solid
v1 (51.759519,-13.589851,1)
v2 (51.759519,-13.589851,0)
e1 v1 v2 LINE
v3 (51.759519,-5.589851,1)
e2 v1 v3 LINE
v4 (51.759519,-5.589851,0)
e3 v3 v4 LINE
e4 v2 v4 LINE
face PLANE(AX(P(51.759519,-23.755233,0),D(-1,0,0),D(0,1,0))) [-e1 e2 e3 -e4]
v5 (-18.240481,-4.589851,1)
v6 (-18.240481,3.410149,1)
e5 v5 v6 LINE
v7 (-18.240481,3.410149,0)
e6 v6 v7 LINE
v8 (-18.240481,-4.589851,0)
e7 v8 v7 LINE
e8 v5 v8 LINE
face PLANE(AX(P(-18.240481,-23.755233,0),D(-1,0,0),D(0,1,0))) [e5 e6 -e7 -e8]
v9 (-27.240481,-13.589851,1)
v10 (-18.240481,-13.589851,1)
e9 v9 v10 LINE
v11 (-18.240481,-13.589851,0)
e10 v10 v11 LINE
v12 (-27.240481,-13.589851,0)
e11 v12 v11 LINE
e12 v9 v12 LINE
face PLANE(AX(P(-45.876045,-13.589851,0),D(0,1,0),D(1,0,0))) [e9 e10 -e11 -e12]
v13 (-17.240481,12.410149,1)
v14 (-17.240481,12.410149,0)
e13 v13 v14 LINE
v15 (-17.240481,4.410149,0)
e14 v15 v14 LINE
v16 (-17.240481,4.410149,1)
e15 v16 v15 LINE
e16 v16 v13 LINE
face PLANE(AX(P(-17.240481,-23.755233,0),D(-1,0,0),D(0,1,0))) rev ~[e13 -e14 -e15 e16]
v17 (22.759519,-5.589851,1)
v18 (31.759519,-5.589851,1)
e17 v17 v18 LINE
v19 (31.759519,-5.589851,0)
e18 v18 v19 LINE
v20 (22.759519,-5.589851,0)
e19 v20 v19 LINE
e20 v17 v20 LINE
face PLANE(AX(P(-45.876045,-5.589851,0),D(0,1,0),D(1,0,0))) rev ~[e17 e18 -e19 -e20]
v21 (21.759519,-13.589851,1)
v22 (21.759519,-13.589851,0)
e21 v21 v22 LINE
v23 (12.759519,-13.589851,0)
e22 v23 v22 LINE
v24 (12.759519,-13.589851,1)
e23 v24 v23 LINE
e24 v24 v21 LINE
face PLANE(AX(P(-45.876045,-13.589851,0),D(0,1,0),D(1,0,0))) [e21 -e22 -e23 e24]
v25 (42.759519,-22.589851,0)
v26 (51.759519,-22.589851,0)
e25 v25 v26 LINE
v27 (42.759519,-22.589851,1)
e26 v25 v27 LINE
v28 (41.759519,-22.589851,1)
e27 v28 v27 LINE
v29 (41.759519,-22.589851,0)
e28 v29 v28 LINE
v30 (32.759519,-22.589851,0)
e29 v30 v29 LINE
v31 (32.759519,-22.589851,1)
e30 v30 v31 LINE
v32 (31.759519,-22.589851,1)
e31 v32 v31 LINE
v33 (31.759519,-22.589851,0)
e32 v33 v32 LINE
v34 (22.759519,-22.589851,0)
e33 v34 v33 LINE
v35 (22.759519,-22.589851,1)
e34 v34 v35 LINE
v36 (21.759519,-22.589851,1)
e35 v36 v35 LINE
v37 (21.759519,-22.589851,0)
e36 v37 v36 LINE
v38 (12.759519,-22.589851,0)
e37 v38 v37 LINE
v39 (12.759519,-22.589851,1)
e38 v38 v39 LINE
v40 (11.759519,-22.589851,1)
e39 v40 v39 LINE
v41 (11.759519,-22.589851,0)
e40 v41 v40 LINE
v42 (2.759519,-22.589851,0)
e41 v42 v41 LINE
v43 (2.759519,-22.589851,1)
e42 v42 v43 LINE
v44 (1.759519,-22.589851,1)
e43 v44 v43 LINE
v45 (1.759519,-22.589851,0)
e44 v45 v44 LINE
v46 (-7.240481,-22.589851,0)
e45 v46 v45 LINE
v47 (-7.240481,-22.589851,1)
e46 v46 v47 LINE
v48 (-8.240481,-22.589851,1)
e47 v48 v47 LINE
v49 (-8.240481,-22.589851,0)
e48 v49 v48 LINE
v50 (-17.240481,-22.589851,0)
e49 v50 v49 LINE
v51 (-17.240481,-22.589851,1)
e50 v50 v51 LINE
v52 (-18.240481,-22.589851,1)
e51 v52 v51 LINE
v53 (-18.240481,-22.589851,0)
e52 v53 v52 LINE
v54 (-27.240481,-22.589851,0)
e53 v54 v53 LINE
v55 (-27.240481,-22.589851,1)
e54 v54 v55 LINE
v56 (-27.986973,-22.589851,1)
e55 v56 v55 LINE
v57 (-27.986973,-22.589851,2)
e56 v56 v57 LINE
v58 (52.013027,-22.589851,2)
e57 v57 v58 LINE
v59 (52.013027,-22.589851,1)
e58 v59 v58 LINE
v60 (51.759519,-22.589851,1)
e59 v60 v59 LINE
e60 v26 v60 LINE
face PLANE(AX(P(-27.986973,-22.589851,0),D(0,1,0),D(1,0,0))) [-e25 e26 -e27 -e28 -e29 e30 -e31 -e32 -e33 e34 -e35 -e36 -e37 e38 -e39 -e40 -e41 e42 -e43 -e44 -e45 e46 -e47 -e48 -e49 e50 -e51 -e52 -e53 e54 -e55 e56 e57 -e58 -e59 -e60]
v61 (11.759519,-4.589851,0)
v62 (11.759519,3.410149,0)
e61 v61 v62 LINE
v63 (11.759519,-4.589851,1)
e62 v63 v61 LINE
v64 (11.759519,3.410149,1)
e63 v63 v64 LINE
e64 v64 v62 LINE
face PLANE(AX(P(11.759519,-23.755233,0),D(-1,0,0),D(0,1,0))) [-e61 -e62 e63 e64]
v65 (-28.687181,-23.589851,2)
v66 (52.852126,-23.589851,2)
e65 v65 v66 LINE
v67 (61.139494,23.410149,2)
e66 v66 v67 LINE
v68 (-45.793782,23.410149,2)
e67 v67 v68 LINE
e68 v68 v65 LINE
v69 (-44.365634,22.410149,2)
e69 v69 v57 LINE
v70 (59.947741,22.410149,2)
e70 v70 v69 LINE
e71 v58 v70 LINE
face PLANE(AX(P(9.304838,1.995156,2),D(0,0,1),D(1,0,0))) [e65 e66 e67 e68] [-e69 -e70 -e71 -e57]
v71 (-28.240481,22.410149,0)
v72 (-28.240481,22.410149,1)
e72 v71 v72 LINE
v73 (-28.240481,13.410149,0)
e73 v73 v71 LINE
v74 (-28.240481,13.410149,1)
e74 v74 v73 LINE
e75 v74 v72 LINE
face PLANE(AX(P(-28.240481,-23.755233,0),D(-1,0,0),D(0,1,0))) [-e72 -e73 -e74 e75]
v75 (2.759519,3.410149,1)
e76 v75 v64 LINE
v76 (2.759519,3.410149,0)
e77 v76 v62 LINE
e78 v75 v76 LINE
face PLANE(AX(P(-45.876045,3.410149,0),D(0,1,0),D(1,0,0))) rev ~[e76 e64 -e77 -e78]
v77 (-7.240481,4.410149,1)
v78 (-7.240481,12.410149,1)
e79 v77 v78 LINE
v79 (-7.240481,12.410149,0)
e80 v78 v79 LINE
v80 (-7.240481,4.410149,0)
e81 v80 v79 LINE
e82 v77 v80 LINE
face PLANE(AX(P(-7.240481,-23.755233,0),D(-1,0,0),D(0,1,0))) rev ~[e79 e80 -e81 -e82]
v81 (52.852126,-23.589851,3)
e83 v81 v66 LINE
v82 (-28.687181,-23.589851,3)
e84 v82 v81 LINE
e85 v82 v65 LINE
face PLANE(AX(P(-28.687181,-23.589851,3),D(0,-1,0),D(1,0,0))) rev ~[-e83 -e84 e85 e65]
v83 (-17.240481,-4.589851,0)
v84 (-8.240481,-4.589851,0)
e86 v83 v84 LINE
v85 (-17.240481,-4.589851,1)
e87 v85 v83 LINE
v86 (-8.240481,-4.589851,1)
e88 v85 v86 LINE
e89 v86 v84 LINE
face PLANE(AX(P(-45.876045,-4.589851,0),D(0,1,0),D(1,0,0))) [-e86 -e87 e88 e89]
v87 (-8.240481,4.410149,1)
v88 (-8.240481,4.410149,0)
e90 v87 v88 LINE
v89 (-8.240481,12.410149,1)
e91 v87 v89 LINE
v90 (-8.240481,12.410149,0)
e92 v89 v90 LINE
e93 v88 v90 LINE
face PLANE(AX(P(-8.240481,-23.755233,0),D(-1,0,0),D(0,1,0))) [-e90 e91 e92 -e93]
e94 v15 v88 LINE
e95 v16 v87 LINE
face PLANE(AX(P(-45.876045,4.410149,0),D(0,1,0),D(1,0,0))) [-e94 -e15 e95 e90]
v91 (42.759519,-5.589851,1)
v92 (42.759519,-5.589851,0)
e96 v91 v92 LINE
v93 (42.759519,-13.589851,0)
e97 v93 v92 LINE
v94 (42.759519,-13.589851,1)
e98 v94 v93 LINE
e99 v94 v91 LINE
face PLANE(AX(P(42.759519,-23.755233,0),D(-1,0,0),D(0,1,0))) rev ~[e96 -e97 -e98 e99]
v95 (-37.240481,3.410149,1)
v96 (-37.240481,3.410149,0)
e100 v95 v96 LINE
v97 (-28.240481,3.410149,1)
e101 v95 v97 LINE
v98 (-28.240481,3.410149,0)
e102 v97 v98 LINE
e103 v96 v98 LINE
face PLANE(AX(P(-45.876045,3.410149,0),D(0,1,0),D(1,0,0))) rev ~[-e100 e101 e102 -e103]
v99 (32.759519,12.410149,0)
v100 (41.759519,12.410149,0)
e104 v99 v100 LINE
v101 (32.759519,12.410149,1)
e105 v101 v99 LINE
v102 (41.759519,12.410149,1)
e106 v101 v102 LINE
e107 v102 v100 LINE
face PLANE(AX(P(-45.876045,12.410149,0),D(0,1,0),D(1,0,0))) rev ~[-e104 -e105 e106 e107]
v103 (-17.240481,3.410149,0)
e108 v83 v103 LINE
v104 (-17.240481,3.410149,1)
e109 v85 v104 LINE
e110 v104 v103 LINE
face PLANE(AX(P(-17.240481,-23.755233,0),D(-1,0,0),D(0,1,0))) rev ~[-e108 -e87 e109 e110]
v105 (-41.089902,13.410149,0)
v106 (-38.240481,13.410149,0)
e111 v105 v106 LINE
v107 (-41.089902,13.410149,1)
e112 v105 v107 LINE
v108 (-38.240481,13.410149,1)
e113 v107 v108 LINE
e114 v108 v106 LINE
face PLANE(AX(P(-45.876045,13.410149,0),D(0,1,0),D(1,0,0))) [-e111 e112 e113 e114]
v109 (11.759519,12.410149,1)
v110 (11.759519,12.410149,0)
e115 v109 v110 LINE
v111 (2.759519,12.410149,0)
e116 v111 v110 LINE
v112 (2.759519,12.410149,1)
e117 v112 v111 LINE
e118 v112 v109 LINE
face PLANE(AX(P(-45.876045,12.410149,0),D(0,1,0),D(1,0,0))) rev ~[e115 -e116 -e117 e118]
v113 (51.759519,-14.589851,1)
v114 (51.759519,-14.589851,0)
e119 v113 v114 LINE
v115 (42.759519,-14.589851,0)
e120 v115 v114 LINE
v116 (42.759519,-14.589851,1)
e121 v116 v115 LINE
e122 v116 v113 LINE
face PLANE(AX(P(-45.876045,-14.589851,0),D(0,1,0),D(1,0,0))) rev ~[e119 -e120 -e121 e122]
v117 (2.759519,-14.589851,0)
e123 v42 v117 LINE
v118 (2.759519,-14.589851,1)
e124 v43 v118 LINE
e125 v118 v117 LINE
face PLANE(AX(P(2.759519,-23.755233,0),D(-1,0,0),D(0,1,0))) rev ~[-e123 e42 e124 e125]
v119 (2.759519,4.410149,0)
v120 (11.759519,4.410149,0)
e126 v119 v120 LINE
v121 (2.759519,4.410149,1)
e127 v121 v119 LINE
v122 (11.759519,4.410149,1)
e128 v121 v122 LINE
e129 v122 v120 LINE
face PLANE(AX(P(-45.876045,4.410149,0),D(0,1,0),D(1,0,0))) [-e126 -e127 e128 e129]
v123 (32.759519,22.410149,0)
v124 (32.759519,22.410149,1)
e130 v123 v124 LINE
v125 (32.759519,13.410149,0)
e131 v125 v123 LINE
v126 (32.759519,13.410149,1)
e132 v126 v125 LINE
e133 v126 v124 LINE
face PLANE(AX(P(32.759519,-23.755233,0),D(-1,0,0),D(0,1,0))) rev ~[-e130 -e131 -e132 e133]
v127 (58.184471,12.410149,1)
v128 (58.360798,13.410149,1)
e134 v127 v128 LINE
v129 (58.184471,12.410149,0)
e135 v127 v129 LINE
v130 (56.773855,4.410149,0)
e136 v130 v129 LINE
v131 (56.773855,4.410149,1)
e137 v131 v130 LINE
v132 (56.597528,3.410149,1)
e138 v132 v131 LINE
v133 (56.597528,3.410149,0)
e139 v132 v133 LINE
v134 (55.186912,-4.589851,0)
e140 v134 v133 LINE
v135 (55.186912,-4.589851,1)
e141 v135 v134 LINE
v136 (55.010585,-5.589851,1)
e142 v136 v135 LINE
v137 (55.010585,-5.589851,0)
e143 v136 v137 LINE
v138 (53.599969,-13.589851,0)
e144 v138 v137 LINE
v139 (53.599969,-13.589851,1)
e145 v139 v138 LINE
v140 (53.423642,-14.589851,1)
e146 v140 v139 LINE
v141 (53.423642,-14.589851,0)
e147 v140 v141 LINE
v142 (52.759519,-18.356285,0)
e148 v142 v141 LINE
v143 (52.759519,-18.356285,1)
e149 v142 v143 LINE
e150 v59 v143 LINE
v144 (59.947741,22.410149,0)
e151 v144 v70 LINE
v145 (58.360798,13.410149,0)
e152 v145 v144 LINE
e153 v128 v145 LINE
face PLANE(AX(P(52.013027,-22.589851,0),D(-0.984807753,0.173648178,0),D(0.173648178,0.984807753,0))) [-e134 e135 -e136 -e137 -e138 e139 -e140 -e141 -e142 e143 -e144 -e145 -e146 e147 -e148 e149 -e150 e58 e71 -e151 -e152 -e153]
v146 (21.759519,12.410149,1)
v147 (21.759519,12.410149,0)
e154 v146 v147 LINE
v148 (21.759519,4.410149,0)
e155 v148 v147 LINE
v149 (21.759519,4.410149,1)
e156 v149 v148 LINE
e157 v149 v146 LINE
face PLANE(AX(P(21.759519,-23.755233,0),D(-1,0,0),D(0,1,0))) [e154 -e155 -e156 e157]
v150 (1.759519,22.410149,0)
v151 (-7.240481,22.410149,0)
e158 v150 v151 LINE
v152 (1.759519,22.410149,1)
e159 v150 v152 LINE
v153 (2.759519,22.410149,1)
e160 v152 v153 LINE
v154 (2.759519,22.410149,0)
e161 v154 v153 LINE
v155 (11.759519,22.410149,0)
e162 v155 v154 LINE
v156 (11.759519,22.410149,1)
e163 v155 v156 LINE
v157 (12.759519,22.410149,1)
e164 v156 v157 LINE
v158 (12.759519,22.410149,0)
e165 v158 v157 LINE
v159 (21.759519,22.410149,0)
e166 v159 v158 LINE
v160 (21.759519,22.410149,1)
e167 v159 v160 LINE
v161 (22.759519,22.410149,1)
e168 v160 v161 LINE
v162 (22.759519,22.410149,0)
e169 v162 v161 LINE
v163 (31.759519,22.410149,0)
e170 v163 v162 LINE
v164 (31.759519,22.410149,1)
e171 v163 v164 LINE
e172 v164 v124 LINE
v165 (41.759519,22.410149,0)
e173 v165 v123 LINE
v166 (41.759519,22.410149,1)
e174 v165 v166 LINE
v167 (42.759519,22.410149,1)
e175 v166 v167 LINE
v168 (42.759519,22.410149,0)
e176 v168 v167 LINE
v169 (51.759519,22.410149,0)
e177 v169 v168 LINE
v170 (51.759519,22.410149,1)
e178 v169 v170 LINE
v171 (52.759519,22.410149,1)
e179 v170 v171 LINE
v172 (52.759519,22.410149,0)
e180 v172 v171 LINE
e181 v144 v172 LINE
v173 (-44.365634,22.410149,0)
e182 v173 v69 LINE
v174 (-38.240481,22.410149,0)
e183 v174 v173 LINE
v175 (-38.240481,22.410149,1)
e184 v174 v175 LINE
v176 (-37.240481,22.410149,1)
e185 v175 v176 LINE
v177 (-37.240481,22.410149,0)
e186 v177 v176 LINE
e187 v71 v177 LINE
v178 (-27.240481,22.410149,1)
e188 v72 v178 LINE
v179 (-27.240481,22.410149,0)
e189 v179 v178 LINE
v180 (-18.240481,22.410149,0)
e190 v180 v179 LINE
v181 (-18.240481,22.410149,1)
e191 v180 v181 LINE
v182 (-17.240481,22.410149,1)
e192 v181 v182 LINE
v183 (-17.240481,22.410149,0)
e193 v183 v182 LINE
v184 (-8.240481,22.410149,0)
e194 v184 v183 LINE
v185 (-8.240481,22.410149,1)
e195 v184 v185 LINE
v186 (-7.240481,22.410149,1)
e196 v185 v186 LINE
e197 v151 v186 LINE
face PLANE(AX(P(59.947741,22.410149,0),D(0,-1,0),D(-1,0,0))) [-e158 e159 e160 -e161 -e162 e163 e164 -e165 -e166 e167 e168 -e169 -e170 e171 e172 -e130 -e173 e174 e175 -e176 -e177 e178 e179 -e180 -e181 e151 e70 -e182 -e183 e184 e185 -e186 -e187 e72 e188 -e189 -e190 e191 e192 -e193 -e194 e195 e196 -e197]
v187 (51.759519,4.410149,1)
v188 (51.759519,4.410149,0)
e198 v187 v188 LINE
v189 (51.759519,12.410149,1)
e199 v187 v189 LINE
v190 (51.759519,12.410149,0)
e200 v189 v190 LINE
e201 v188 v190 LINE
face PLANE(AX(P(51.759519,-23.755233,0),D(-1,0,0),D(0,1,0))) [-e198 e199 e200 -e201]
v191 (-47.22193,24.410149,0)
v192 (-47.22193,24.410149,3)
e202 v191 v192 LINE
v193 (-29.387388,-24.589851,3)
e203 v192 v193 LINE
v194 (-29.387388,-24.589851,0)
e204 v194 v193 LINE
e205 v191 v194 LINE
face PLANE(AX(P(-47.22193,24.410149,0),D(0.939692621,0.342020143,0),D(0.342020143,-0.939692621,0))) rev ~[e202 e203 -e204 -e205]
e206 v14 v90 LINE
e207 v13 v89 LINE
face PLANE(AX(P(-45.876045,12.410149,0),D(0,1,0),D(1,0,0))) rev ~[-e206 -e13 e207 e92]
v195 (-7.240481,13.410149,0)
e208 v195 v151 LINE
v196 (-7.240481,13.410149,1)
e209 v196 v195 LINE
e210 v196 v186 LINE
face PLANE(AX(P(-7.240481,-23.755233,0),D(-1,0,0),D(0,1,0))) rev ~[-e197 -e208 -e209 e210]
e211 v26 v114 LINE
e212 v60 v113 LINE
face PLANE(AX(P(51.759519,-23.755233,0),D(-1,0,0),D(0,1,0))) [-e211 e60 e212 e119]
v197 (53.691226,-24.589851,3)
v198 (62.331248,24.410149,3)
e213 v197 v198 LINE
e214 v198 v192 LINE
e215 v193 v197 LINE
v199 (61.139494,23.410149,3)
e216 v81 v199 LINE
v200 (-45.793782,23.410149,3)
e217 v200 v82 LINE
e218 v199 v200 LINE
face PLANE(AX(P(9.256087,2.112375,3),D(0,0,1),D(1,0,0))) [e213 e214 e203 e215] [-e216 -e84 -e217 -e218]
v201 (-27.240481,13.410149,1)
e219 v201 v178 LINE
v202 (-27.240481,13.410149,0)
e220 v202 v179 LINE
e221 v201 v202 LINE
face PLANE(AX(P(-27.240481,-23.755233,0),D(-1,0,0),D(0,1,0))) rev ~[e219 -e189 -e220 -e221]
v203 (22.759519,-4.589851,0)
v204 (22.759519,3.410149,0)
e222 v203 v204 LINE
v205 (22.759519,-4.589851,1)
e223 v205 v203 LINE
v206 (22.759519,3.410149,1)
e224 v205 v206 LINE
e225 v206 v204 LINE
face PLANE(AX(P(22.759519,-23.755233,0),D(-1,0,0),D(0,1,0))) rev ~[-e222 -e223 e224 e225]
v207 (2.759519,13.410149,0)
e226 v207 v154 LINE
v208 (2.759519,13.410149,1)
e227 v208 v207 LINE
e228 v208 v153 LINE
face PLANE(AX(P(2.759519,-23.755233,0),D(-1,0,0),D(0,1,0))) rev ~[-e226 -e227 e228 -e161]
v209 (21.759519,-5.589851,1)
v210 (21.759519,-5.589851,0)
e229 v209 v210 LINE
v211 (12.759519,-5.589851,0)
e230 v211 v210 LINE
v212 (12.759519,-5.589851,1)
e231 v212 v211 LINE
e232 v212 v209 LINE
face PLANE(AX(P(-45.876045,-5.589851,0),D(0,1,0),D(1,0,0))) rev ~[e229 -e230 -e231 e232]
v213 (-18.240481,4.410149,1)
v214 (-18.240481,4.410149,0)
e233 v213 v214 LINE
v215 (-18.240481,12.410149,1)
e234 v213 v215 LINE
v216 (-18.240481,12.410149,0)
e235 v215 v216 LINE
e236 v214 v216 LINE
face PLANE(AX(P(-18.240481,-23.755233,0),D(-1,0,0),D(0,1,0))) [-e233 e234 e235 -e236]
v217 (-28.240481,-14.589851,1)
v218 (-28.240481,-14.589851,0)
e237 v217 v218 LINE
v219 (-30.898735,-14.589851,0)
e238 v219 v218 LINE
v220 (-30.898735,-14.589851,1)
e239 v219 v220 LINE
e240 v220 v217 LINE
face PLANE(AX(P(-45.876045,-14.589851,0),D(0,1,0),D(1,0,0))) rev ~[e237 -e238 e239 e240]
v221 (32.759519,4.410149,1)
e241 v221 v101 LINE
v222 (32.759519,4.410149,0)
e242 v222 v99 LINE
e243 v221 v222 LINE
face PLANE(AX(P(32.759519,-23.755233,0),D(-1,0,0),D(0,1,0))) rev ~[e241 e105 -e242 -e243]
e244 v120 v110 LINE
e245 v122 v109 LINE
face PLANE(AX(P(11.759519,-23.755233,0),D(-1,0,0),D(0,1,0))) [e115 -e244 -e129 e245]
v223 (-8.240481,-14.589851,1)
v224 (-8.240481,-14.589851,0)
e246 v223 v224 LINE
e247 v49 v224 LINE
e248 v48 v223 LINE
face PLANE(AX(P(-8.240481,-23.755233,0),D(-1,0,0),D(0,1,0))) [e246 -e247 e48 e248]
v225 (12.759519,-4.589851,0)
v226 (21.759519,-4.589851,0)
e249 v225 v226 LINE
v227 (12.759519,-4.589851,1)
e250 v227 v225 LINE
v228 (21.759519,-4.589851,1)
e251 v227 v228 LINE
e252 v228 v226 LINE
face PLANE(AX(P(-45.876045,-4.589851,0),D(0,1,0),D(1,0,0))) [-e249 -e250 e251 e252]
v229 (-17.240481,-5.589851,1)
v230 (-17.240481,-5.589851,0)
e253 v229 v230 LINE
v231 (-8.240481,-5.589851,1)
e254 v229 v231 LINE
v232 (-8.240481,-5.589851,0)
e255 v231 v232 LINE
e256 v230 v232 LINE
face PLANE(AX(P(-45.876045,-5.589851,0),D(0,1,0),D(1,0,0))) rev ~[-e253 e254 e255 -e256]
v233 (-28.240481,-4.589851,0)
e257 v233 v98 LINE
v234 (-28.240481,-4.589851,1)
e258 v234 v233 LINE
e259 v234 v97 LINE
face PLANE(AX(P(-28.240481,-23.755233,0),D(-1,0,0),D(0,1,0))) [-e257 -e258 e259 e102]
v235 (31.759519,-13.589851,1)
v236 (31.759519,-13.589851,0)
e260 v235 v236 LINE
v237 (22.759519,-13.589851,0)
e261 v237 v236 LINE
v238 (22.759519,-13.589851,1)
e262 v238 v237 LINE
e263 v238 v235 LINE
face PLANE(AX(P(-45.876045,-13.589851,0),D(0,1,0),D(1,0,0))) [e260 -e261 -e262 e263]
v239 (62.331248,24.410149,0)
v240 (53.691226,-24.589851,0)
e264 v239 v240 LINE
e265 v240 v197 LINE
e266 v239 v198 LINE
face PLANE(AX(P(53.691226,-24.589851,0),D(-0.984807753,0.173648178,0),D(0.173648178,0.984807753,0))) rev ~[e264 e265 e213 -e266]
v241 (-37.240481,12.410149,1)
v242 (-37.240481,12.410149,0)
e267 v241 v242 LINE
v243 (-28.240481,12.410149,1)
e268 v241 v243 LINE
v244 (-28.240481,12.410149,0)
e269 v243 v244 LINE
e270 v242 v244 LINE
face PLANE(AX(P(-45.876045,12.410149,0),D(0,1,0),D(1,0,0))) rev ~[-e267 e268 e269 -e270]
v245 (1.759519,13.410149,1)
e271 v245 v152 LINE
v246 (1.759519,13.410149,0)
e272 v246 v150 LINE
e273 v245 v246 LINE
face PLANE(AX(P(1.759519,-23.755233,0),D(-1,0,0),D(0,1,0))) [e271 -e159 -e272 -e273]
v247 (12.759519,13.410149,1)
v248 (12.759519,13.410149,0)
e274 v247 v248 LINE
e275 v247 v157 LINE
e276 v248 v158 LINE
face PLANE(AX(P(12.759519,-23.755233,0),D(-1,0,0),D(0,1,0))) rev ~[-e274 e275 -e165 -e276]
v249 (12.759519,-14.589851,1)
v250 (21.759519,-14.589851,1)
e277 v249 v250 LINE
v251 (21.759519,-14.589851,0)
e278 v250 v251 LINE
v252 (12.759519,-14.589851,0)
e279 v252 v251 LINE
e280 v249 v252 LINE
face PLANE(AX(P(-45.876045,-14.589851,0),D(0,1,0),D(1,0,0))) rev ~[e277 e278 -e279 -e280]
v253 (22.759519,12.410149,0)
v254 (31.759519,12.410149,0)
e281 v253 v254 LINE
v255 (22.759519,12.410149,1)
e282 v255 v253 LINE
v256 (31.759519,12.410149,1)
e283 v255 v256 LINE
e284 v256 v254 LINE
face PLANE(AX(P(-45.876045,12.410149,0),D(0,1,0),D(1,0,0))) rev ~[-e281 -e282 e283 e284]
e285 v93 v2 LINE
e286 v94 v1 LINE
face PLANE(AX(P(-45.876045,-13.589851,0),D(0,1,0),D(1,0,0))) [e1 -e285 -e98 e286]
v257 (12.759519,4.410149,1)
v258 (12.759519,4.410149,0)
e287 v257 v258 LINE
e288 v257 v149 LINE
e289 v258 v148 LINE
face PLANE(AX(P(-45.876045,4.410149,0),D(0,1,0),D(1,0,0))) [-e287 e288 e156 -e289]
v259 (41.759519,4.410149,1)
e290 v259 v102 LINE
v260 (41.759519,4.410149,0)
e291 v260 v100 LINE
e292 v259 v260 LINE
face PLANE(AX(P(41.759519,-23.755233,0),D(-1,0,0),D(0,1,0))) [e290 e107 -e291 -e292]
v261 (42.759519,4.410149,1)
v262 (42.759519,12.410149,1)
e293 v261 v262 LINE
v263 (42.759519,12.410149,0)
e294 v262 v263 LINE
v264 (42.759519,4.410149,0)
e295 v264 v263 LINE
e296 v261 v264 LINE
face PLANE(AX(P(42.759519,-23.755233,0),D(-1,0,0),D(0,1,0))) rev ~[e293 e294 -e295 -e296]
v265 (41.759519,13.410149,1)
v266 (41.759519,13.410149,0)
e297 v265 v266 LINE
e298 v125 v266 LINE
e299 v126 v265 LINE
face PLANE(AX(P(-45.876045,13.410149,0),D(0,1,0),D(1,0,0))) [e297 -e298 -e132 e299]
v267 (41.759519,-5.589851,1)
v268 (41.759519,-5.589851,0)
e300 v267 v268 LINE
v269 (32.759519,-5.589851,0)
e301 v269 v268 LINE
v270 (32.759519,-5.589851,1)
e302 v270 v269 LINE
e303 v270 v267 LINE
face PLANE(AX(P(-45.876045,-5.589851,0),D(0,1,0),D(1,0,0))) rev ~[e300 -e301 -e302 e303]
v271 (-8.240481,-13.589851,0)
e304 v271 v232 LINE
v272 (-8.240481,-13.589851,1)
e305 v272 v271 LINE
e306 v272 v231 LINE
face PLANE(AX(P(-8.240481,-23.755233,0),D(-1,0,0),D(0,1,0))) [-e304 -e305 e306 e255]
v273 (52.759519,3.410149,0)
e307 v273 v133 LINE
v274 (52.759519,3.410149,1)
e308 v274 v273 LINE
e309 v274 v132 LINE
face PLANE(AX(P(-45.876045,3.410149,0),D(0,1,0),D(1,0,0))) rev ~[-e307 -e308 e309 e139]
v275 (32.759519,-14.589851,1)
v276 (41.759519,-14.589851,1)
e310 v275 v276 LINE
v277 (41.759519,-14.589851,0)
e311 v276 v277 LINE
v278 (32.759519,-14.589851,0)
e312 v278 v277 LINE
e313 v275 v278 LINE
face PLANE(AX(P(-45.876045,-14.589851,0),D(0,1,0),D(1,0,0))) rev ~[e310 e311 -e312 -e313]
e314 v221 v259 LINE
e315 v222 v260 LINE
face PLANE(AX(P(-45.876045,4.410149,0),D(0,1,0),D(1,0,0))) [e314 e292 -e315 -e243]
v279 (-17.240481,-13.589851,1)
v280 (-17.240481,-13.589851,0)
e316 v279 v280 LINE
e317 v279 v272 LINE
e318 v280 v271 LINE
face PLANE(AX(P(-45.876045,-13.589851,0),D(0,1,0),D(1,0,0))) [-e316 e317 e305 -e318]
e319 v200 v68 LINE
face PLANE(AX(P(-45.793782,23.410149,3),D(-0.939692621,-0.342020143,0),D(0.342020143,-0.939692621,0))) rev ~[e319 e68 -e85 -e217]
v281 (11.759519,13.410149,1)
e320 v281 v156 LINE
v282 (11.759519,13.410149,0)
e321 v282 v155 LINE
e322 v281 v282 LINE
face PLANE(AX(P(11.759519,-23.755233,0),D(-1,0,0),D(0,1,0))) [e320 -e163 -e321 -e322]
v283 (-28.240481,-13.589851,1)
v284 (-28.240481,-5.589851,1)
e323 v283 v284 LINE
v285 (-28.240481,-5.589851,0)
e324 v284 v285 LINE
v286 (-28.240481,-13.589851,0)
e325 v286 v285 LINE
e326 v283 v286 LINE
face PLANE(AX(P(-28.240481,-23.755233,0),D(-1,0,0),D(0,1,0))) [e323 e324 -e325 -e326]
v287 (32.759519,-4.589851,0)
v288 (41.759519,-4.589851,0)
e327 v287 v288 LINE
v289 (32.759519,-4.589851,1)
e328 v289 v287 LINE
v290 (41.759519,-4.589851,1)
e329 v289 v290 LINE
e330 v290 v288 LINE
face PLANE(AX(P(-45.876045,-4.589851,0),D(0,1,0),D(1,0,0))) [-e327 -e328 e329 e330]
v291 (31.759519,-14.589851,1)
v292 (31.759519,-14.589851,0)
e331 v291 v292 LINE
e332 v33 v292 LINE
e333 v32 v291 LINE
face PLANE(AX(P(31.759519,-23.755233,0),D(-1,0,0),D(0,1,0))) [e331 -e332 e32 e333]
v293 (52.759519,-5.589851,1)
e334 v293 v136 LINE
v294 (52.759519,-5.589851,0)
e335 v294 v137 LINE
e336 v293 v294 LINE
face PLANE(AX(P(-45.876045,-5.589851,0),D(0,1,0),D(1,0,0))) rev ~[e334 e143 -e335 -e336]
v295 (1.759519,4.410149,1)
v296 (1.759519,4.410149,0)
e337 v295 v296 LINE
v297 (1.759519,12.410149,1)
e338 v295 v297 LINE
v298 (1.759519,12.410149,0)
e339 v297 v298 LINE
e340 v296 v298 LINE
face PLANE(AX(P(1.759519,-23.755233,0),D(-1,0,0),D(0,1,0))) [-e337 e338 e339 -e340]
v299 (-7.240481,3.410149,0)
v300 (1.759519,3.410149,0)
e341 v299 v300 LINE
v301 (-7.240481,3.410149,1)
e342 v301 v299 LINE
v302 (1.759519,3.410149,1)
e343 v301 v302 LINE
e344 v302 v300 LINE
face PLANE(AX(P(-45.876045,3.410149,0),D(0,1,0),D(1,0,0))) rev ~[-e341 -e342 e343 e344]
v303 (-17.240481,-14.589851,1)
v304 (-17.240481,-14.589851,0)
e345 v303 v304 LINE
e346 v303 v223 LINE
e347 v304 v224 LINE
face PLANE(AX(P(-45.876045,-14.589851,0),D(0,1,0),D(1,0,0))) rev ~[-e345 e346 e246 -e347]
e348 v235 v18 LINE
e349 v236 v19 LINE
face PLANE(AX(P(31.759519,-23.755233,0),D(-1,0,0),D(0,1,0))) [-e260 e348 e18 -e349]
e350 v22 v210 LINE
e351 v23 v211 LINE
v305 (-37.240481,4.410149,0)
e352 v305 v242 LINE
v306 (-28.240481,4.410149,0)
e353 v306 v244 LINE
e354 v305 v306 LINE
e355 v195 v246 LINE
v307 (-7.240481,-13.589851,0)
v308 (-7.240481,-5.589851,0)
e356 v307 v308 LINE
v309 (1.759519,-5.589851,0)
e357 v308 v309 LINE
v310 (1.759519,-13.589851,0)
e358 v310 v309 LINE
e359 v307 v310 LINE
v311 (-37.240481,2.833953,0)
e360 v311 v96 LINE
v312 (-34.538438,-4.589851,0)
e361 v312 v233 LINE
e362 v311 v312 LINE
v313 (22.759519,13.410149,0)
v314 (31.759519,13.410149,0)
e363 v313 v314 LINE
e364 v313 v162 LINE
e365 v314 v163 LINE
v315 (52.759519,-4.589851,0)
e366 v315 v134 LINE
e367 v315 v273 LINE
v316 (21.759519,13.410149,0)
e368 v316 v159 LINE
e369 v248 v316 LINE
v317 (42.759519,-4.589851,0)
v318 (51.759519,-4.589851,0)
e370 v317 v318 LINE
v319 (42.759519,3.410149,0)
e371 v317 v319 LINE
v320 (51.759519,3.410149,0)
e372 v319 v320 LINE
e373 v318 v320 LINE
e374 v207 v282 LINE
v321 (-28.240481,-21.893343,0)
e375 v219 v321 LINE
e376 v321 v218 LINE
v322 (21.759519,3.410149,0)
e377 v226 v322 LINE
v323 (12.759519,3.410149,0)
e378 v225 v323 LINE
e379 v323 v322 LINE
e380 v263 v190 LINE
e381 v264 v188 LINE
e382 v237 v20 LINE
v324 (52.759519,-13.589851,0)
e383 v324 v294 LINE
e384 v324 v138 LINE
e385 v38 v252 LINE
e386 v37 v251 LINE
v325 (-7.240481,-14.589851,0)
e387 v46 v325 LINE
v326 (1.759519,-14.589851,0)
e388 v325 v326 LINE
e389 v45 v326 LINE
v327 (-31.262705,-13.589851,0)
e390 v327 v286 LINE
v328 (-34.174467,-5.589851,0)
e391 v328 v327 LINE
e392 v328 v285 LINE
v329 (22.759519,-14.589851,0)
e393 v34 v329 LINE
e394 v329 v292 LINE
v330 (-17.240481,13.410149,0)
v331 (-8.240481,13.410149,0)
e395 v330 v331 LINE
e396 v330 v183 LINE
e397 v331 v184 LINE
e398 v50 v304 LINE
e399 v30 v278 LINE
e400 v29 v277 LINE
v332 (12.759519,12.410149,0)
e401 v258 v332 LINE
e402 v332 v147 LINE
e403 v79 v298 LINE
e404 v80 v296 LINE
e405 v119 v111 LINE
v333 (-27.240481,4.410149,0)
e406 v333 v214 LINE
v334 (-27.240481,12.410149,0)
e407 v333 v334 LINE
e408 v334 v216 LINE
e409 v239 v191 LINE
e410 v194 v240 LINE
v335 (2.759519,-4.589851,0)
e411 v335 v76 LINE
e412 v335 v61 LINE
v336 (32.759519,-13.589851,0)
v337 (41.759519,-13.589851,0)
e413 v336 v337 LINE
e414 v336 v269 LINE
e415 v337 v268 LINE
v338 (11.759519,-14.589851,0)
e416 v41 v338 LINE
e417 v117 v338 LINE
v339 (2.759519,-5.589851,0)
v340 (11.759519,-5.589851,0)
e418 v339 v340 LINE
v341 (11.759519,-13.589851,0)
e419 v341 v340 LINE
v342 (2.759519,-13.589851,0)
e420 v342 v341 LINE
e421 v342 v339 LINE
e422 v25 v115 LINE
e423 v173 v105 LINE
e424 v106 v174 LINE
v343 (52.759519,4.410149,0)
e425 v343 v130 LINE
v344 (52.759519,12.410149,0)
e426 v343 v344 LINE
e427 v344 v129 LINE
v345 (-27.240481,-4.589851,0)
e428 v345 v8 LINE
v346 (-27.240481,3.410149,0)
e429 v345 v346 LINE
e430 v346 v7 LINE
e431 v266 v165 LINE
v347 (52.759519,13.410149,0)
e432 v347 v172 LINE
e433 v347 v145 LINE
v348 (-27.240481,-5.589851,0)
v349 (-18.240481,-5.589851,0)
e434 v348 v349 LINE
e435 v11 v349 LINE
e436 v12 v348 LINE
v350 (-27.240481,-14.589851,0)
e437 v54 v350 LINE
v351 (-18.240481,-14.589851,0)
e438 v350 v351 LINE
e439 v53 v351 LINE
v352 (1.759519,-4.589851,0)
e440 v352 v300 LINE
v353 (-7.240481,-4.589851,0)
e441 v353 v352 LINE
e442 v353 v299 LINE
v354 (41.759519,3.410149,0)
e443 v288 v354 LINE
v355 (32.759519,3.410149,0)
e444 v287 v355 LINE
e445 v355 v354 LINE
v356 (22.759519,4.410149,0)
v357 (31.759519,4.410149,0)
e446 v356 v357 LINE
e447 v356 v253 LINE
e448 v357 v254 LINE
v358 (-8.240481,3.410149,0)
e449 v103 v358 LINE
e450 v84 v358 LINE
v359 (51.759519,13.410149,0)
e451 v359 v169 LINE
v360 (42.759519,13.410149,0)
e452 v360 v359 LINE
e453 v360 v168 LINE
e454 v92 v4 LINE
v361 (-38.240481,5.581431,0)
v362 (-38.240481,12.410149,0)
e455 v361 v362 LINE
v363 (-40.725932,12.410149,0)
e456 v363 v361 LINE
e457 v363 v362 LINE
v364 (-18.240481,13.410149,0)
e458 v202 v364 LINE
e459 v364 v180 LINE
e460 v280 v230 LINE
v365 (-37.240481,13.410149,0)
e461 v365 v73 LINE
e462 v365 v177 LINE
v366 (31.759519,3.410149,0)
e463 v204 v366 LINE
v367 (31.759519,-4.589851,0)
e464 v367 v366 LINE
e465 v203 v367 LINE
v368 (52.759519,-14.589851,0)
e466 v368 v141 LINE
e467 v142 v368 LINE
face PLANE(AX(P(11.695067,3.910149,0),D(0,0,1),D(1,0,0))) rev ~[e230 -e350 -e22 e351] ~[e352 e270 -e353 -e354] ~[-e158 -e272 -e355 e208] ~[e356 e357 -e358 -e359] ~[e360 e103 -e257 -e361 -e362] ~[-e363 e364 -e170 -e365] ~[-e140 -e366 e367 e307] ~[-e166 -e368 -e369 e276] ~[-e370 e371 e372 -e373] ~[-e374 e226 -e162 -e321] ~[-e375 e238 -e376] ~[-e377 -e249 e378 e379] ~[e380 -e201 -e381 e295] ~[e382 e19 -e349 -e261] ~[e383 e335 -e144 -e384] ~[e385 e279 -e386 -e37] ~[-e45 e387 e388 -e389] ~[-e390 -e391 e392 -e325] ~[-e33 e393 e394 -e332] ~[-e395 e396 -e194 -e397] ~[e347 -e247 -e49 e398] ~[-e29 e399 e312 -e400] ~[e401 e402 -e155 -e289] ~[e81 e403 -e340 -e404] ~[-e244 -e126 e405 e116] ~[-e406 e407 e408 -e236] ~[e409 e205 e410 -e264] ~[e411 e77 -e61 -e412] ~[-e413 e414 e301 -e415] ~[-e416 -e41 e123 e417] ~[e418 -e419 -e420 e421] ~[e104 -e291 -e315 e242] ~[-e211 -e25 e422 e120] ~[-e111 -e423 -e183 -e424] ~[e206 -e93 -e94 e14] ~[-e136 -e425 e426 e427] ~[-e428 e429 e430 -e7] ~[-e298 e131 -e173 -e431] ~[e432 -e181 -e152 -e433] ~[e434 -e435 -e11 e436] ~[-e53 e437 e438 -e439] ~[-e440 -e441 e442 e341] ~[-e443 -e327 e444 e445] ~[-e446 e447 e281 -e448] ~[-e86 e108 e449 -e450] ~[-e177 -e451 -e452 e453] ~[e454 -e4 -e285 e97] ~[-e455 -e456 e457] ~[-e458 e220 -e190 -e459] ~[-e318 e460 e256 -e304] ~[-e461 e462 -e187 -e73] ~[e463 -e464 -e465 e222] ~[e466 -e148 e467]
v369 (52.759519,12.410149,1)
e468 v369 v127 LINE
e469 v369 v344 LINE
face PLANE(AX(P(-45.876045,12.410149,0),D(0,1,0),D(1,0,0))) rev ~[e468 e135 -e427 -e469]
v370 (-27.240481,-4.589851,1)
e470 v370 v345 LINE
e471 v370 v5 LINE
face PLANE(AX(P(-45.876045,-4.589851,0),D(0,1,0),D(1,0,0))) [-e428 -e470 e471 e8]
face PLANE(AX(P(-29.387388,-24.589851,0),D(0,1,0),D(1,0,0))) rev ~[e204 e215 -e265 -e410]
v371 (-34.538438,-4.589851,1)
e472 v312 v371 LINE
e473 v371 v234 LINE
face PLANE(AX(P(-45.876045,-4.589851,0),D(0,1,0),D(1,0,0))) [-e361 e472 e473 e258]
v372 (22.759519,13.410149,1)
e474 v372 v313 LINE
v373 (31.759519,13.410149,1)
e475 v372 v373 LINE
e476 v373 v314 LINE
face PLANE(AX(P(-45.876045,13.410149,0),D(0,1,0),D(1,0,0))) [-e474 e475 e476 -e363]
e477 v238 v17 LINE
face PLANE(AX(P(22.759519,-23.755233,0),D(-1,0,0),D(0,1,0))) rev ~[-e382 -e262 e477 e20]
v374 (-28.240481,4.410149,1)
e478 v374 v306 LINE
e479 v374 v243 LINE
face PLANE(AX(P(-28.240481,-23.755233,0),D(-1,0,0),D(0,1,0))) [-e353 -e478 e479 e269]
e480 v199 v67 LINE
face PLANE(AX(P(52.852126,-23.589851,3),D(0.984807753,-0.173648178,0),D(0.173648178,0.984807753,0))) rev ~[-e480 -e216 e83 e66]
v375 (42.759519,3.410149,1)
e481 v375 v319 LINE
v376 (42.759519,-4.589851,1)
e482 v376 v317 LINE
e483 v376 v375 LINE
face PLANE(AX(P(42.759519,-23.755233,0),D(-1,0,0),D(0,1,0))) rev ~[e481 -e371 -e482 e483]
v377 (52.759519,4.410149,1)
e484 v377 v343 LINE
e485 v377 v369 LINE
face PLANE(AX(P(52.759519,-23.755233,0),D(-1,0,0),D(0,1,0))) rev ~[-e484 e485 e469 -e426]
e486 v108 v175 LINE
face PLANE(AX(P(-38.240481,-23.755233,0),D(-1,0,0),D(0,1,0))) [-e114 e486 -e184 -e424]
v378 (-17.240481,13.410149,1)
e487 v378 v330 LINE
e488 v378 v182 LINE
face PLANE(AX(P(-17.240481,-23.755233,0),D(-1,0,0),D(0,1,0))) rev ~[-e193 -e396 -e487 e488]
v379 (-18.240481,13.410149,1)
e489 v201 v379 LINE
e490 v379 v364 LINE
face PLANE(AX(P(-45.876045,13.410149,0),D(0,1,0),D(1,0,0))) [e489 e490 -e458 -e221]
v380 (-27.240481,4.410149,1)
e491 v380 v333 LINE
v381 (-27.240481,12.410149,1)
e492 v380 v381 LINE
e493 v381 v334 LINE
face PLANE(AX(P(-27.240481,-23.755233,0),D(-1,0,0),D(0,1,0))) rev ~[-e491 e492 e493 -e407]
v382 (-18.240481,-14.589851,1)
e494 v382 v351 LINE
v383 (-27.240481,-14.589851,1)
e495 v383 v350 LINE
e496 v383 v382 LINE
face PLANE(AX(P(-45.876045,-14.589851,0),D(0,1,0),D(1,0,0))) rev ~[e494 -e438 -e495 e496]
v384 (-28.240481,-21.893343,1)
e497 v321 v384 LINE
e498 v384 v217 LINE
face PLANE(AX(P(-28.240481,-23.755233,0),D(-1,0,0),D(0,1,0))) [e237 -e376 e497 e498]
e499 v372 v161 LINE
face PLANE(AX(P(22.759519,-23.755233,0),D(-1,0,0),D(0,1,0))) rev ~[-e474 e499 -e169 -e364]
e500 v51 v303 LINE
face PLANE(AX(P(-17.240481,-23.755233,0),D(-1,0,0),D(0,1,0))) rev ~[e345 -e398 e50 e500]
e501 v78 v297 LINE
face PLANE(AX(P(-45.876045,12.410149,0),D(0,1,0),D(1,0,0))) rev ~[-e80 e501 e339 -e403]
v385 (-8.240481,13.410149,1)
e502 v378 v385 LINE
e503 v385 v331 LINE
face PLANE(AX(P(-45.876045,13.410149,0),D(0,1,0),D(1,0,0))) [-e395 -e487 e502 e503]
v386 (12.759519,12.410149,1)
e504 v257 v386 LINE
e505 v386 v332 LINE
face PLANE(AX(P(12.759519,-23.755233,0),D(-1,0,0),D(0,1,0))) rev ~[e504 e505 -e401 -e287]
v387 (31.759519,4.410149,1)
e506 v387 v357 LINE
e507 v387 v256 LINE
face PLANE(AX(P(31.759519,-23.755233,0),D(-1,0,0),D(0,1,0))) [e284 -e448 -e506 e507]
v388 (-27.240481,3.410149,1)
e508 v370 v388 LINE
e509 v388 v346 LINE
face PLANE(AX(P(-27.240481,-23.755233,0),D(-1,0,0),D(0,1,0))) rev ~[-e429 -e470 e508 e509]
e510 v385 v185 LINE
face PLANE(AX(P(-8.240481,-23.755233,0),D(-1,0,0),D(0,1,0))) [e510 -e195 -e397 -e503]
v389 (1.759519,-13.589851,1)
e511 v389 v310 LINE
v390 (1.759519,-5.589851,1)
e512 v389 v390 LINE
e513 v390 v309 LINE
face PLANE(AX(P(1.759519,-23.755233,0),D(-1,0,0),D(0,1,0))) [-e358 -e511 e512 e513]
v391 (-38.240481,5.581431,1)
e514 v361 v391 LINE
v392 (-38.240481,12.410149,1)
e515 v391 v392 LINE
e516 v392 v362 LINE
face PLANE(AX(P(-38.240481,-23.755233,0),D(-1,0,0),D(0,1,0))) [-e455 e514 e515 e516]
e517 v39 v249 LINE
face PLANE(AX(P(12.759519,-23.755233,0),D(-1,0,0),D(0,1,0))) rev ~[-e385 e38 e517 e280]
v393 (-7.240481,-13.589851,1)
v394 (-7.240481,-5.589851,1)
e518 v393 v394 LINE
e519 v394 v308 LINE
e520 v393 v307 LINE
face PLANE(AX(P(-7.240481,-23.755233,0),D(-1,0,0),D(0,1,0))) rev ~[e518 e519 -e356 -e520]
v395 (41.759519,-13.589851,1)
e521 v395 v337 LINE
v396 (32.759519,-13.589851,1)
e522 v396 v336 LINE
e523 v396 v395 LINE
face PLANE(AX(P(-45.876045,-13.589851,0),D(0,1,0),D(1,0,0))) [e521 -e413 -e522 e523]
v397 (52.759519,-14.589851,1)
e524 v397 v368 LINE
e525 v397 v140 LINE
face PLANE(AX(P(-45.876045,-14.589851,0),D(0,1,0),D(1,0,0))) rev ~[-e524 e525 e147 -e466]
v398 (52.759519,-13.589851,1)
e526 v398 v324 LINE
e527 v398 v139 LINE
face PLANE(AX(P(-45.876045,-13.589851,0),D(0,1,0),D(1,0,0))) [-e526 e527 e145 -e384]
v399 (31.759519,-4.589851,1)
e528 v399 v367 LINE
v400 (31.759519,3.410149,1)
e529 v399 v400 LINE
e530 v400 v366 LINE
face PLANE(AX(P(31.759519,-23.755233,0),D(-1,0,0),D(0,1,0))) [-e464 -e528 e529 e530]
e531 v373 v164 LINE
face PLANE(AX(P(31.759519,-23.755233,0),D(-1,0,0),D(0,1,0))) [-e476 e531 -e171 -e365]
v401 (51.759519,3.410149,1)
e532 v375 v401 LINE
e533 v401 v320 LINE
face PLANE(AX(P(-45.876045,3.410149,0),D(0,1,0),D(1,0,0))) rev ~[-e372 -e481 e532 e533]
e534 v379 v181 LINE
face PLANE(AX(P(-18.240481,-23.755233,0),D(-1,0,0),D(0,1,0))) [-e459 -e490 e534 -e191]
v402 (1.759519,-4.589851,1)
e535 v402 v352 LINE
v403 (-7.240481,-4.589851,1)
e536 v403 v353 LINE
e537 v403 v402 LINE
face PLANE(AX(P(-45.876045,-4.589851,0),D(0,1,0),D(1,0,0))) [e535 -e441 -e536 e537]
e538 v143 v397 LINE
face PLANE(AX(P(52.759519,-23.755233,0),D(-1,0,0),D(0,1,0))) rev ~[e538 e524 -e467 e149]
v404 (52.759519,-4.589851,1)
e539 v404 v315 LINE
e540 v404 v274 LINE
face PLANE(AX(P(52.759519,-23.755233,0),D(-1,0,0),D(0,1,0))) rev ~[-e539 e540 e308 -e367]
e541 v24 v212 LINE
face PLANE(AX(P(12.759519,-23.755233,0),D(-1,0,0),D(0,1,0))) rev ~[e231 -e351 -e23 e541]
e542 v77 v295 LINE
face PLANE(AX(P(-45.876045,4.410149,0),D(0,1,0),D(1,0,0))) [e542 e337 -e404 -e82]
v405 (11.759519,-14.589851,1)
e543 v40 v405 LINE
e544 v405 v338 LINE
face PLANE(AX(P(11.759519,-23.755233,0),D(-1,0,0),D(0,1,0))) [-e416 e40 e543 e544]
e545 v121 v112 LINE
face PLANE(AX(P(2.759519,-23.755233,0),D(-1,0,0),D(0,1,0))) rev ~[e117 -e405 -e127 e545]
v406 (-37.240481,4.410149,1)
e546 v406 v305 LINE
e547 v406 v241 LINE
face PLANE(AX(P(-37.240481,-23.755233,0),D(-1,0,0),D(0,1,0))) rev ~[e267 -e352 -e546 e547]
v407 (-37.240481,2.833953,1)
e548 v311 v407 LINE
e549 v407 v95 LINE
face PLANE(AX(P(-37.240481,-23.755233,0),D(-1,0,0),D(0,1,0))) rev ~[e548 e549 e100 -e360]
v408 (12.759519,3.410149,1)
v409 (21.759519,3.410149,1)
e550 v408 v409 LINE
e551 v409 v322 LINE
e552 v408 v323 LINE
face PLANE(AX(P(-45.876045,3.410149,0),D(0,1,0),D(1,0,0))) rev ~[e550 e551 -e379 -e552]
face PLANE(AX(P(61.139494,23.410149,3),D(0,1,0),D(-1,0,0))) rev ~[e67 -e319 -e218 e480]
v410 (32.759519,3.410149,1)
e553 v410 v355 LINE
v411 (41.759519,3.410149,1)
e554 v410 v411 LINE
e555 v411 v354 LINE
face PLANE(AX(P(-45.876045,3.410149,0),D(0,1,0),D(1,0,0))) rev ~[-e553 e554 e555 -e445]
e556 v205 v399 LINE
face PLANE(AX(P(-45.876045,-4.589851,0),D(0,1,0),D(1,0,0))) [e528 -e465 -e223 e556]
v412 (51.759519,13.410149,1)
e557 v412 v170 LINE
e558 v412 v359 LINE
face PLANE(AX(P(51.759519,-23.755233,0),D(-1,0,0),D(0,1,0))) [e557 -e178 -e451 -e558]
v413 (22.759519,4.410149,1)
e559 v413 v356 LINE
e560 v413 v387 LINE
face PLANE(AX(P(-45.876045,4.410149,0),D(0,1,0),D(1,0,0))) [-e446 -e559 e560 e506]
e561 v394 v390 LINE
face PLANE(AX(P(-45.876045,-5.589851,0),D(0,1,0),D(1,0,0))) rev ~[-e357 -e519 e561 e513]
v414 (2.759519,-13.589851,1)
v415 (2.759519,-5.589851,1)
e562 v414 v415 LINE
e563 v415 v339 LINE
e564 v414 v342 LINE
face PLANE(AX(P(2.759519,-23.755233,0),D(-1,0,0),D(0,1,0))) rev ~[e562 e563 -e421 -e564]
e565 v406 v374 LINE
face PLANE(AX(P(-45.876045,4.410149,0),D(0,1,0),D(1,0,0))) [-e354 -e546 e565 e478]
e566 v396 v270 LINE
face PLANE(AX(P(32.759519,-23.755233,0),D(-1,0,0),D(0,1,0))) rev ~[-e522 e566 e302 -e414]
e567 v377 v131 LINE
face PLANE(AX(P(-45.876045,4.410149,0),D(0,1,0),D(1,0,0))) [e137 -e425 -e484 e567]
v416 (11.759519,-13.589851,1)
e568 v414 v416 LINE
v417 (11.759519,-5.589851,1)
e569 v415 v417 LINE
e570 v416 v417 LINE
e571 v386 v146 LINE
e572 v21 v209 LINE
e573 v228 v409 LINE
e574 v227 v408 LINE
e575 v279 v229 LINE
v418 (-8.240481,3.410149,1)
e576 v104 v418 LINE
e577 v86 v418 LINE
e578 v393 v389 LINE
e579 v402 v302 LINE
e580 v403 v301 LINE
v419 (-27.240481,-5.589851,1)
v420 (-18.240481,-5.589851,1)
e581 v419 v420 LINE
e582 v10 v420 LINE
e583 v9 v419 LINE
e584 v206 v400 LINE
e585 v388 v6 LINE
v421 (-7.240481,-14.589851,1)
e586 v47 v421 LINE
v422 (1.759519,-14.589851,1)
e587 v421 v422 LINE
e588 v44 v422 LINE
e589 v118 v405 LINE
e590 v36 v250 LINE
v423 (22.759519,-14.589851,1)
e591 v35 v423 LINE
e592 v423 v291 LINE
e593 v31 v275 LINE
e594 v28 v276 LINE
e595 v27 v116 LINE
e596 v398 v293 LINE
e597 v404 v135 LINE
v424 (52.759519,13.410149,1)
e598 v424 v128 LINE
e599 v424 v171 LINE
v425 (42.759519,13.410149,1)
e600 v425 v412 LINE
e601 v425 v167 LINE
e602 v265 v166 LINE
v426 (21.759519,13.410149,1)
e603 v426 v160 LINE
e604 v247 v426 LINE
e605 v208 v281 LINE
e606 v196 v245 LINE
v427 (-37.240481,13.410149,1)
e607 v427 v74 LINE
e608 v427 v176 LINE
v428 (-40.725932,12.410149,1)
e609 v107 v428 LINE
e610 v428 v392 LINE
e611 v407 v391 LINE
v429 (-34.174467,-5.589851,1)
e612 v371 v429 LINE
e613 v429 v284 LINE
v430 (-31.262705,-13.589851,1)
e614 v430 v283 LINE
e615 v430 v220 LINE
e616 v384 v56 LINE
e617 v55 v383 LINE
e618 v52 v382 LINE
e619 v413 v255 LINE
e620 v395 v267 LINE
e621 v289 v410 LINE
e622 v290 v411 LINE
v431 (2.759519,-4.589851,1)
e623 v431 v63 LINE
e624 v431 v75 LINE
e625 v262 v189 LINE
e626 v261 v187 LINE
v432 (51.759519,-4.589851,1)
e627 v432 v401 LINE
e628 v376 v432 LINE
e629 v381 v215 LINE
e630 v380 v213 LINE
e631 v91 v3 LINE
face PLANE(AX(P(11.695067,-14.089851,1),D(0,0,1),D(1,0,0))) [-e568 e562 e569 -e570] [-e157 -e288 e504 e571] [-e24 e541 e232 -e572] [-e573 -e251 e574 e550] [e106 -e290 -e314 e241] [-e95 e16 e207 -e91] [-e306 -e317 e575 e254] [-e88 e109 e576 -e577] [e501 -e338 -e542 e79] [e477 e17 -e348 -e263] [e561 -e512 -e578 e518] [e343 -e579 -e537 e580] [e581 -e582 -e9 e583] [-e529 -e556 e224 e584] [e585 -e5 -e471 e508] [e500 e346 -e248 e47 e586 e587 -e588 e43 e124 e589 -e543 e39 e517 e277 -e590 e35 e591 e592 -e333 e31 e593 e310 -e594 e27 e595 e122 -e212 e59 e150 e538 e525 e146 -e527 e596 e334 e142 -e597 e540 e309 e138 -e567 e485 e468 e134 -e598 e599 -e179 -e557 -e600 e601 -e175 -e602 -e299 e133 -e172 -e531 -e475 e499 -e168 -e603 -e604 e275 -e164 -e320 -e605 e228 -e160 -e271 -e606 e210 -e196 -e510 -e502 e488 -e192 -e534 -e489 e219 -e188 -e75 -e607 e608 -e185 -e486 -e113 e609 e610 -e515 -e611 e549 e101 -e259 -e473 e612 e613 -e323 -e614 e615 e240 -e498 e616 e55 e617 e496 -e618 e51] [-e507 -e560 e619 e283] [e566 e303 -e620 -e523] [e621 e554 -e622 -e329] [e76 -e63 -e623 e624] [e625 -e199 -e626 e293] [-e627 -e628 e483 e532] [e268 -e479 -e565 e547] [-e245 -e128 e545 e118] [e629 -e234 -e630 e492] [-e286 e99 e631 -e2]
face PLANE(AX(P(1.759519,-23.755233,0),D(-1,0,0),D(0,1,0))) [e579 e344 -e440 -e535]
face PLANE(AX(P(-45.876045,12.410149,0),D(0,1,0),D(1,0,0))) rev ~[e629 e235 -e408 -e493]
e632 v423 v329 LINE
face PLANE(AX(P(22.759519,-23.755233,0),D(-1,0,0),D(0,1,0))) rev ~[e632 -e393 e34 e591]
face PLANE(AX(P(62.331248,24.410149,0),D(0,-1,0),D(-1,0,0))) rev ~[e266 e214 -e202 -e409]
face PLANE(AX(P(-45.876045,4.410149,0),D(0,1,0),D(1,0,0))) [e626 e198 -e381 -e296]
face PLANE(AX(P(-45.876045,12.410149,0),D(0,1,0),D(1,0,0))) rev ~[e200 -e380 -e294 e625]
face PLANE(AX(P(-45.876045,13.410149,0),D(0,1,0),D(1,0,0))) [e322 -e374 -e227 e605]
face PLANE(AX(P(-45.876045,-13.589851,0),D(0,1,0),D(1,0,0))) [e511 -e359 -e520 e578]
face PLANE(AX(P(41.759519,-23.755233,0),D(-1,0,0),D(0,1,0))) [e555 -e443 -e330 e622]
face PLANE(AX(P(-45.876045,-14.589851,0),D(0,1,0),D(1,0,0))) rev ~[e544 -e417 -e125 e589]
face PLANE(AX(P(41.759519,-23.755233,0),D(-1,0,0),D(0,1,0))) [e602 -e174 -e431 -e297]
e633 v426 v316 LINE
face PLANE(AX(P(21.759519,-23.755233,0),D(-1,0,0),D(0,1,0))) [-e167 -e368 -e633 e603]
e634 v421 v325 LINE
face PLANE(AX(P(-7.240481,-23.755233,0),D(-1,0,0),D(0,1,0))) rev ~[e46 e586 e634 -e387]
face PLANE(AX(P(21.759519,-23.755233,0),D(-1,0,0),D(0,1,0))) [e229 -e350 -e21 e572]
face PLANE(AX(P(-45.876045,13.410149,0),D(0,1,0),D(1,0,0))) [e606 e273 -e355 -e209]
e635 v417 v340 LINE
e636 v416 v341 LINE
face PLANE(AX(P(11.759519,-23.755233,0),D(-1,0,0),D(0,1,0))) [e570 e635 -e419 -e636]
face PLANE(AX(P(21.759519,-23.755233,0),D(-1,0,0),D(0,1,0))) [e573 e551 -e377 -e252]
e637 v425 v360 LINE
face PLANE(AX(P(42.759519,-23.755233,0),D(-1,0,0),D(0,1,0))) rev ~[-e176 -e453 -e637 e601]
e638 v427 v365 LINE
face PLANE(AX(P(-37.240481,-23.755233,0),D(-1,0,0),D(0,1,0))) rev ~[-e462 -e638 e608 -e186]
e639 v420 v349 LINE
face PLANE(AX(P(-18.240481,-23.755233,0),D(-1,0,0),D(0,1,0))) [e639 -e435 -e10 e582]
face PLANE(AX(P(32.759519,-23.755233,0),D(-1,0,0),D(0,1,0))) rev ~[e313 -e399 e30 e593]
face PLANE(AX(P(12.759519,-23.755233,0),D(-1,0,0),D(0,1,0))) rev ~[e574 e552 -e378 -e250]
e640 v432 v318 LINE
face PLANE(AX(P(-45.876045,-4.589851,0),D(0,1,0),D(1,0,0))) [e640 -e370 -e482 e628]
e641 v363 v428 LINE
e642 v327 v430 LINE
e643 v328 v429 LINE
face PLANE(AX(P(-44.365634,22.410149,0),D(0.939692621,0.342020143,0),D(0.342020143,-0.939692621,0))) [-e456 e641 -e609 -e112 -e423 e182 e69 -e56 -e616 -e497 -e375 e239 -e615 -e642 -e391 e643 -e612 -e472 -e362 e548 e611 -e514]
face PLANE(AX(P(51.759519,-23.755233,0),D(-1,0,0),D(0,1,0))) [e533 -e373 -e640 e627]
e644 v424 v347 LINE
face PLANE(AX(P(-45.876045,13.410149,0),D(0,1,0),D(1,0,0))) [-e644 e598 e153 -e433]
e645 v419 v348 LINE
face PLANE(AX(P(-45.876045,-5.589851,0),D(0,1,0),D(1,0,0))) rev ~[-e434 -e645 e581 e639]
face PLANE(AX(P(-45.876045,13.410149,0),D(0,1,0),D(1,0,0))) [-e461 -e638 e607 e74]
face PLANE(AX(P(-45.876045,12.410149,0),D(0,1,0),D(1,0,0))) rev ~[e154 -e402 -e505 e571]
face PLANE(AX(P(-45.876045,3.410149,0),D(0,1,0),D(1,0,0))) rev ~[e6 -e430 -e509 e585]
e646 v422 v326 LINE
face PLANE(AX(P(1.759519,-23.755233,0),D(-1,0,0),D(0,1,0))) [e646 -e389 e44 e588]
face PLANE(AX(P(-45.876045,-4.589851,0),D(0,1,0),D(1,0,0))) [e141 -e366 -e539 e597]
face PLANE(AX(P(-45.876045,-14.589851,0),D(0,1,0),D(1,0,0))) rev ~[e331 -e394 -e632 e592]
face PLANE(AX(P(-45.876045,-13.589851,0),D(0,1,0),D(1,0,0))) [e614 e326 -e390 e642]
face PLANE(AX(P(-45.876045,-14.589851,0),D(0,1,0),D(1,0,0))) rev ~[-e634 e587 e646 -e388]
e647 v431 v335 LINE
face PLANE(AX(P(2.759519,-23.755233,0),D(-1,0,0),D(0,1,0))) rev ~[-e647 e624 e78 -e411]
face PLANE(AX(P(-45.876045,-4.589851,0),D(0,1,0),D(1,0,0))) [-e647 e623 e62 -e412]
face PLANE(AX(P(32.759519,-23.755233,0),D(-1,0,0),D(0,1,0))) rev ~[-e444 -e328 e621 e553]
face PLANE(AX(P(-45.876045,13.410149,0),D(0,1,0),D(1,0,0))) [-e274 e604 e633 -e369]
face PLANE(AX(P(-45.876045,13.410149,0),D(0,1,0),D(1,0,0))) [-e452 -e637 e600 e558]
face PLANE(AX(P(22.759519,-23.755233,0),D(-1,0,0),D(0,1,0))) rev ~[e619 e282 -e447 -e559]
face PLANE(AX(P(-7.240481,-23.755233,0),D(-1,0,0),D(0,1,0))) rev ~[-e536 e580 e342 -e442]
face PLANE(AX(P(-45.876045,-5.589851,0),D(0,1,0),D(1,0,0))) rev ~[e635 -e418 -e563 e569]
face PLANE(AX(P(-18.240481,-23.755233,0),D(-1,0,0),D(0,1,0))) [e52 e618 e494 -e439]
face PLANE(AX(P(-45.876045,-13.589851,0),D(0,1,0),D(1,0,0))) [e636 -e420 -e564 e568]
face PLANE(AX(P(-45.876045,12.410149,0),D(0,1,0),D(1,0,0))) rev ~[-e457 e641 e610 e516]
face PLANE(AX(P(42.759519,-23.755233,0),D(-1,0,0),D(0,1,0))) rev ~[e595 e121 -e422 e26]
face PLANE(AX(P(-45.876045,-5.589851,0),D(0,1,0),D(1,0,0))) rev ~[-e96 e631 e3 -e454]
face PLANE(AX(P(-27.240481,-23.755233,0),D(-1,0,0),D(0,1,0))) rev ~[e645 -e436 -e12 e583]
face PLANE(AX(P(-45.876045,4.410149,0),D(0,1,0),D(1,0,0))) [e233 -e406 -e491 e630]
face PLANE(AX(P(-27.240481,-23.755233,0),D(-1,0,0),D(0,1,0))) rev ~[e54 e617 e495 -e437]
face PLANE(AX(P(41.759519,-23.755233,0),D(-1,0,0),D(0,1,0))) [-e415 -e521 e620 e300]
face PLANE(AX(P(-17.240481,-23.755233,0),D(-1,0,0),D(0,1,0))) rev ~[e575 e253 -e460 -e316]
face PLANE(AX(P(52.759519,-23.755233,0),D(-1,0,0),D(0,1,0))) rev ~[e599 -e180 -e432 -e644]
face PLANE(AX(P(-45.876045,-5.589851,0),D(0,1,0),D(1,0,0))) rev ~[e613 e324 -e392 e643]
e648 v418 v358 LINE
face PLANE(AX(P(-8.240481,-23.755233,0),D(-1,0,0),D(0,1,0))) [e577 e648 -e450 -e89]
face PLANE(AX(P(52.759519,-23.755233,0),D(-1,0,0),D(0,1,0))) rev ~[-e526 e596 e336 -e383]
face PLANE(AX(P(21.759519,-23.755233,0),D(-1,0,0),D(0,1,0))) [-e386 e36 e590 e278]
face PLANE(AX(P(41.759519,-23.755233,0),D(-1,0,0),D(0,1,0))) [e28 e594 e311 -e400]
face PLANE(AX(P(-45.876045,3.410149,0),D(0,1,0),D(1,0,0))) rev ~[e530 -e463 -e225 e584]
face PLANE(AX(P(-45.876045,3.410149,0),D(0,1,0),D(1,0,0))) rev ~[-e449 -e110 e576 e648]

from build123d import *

# Parameters (mm, degrees)
BOSS_EXTRU_1_DEPTH         = 3
ENL_V_MAT_EXTRU_1_DEPTH    = 1
ESQUISSE3_W                = 1
ESQUISSE3_H                = 46.165382348
BOSS_EXTRU_2_DEPTH         = 1
R_P_TITION_LIN_AIRE1_COUNT = 10
R_P_TITION_LIN_AIRE1_PITCH = 10
ESQUISSE4_W                = 115.142225127
ESQUISSE4_H                = 1
BOSS_EXTRU_3_DEPTH         = 1
R_P_TITION_LIN_AIRE2_COUNT = 4
R_P_TITION_LIN_AIRE2_PITCH = 9
ESQUISSE6_W                = 145.186811134
ESQUISSE6_H                = 82.250288406
ENL_V_MAT_EXTRU_2_DEPTH    = 4


with BuildPart() as part:
    # Esquisse1 → Boss.-Extru.1 (new body)
    with BuildSketch(Plane.XY):
        Polygon((-47.221929914, 24.410148906), (-29.387388435, -24.589851094), (53.691225904, -24.589851094), (62.331247959, 24.410148906), align=None)
        Polygon((-27.986973358, -22.589851094), (52.013026642, -22.589851094), (59.947740773, 22.410148906), (-44.3656339, 22.410148906), align=None, mode=Mode.SUBTRACT)
    extrude(amount=BOSS_EXTRU_1_DEPTH)

    # Esquisse2 → Enlèv. mat.-Extru.1 (cut)
    with BuildSketch(Plane.XY.offset(3)):
        Polygon((61.139494366, 23.410148906), (-45.793781907, 23.410148906), (-28.687180897, -23.589851094), (52.852126273, -23.589851094), align=None)
        Polygon((59.947740773, 22.410148906), (-44.3656339, 22.410148906), (-27.986973358, -22.589851094), (52.013026642, -22.589851094), align=None, mode=Mode.SUBTRACT)
    extrude(amount=-ENL_V_MAT_EXTRU_1_DEPTH, mode=Mode.SUBTRACT)

    # Esquisse3 → Boss.-Extru.2 (add)
    with BuildSketch(Plane.XY):
        with Locations((-37.740481402, -0.672542268)):
            Rectangle(ESQUISSE3_W, ESQUISSE3_H)
    boss_extru_2 = extrude(amount=BOSS_EXTRU_2_DEPTH)

    # Répétition linéaire1: Boss.-Extru.2 ×10
    with Locations(*[(i * R_P_TITION_LIN_AIRE1_PITCH, 0, 0) for i in range(1, R_P_TITION_LIN_AIRE1_COUNT)]):
        add(boss_extru_2)

    # Esquisse4 → Boss.-Extru.3 (add)
    with BuildSketch(Plane.XY):
        with Locations((11.695067266, 12.910148906)):
            Rectangle(ESQUISSE4_W, ESQUISSE4_H)
    boss_extru_3 = extrude(amount=BOSS_EXTRU_3_DEPTH)

    # Répétition linéaire2: Boss.-Extru.3 ×4
    with Locations(*[(0, -i * R_P_TITION_LIN_AIRE2_PITCH, 0) for i in range(1, R_P_TITION_LIN_AIRE2_COUNT)]):
        add(boss_extru_3)

    # Esquisse6 → Enlèv. mat.-Extru.2 (cut, through all)
    with BuildSketch(Plane.XY.offset(3)):
        with Locations((8.362981272, 0)):
            Rectangle(ESQUISSE6_W, ESQUISSE6_H)
        Polygon((62.331247959, 24.410148906), (-47.221929914, 24.410148906), (-29.387388435, -24.589851094), (53.691225904, -24.589851094), align=None, mode=Mode.SUBTRACT)
    extrude(amount=-ENL_V_MAT_EXTRU_2_DEPTH, mode=Mode.SUBTRACT)


solid = part.part
